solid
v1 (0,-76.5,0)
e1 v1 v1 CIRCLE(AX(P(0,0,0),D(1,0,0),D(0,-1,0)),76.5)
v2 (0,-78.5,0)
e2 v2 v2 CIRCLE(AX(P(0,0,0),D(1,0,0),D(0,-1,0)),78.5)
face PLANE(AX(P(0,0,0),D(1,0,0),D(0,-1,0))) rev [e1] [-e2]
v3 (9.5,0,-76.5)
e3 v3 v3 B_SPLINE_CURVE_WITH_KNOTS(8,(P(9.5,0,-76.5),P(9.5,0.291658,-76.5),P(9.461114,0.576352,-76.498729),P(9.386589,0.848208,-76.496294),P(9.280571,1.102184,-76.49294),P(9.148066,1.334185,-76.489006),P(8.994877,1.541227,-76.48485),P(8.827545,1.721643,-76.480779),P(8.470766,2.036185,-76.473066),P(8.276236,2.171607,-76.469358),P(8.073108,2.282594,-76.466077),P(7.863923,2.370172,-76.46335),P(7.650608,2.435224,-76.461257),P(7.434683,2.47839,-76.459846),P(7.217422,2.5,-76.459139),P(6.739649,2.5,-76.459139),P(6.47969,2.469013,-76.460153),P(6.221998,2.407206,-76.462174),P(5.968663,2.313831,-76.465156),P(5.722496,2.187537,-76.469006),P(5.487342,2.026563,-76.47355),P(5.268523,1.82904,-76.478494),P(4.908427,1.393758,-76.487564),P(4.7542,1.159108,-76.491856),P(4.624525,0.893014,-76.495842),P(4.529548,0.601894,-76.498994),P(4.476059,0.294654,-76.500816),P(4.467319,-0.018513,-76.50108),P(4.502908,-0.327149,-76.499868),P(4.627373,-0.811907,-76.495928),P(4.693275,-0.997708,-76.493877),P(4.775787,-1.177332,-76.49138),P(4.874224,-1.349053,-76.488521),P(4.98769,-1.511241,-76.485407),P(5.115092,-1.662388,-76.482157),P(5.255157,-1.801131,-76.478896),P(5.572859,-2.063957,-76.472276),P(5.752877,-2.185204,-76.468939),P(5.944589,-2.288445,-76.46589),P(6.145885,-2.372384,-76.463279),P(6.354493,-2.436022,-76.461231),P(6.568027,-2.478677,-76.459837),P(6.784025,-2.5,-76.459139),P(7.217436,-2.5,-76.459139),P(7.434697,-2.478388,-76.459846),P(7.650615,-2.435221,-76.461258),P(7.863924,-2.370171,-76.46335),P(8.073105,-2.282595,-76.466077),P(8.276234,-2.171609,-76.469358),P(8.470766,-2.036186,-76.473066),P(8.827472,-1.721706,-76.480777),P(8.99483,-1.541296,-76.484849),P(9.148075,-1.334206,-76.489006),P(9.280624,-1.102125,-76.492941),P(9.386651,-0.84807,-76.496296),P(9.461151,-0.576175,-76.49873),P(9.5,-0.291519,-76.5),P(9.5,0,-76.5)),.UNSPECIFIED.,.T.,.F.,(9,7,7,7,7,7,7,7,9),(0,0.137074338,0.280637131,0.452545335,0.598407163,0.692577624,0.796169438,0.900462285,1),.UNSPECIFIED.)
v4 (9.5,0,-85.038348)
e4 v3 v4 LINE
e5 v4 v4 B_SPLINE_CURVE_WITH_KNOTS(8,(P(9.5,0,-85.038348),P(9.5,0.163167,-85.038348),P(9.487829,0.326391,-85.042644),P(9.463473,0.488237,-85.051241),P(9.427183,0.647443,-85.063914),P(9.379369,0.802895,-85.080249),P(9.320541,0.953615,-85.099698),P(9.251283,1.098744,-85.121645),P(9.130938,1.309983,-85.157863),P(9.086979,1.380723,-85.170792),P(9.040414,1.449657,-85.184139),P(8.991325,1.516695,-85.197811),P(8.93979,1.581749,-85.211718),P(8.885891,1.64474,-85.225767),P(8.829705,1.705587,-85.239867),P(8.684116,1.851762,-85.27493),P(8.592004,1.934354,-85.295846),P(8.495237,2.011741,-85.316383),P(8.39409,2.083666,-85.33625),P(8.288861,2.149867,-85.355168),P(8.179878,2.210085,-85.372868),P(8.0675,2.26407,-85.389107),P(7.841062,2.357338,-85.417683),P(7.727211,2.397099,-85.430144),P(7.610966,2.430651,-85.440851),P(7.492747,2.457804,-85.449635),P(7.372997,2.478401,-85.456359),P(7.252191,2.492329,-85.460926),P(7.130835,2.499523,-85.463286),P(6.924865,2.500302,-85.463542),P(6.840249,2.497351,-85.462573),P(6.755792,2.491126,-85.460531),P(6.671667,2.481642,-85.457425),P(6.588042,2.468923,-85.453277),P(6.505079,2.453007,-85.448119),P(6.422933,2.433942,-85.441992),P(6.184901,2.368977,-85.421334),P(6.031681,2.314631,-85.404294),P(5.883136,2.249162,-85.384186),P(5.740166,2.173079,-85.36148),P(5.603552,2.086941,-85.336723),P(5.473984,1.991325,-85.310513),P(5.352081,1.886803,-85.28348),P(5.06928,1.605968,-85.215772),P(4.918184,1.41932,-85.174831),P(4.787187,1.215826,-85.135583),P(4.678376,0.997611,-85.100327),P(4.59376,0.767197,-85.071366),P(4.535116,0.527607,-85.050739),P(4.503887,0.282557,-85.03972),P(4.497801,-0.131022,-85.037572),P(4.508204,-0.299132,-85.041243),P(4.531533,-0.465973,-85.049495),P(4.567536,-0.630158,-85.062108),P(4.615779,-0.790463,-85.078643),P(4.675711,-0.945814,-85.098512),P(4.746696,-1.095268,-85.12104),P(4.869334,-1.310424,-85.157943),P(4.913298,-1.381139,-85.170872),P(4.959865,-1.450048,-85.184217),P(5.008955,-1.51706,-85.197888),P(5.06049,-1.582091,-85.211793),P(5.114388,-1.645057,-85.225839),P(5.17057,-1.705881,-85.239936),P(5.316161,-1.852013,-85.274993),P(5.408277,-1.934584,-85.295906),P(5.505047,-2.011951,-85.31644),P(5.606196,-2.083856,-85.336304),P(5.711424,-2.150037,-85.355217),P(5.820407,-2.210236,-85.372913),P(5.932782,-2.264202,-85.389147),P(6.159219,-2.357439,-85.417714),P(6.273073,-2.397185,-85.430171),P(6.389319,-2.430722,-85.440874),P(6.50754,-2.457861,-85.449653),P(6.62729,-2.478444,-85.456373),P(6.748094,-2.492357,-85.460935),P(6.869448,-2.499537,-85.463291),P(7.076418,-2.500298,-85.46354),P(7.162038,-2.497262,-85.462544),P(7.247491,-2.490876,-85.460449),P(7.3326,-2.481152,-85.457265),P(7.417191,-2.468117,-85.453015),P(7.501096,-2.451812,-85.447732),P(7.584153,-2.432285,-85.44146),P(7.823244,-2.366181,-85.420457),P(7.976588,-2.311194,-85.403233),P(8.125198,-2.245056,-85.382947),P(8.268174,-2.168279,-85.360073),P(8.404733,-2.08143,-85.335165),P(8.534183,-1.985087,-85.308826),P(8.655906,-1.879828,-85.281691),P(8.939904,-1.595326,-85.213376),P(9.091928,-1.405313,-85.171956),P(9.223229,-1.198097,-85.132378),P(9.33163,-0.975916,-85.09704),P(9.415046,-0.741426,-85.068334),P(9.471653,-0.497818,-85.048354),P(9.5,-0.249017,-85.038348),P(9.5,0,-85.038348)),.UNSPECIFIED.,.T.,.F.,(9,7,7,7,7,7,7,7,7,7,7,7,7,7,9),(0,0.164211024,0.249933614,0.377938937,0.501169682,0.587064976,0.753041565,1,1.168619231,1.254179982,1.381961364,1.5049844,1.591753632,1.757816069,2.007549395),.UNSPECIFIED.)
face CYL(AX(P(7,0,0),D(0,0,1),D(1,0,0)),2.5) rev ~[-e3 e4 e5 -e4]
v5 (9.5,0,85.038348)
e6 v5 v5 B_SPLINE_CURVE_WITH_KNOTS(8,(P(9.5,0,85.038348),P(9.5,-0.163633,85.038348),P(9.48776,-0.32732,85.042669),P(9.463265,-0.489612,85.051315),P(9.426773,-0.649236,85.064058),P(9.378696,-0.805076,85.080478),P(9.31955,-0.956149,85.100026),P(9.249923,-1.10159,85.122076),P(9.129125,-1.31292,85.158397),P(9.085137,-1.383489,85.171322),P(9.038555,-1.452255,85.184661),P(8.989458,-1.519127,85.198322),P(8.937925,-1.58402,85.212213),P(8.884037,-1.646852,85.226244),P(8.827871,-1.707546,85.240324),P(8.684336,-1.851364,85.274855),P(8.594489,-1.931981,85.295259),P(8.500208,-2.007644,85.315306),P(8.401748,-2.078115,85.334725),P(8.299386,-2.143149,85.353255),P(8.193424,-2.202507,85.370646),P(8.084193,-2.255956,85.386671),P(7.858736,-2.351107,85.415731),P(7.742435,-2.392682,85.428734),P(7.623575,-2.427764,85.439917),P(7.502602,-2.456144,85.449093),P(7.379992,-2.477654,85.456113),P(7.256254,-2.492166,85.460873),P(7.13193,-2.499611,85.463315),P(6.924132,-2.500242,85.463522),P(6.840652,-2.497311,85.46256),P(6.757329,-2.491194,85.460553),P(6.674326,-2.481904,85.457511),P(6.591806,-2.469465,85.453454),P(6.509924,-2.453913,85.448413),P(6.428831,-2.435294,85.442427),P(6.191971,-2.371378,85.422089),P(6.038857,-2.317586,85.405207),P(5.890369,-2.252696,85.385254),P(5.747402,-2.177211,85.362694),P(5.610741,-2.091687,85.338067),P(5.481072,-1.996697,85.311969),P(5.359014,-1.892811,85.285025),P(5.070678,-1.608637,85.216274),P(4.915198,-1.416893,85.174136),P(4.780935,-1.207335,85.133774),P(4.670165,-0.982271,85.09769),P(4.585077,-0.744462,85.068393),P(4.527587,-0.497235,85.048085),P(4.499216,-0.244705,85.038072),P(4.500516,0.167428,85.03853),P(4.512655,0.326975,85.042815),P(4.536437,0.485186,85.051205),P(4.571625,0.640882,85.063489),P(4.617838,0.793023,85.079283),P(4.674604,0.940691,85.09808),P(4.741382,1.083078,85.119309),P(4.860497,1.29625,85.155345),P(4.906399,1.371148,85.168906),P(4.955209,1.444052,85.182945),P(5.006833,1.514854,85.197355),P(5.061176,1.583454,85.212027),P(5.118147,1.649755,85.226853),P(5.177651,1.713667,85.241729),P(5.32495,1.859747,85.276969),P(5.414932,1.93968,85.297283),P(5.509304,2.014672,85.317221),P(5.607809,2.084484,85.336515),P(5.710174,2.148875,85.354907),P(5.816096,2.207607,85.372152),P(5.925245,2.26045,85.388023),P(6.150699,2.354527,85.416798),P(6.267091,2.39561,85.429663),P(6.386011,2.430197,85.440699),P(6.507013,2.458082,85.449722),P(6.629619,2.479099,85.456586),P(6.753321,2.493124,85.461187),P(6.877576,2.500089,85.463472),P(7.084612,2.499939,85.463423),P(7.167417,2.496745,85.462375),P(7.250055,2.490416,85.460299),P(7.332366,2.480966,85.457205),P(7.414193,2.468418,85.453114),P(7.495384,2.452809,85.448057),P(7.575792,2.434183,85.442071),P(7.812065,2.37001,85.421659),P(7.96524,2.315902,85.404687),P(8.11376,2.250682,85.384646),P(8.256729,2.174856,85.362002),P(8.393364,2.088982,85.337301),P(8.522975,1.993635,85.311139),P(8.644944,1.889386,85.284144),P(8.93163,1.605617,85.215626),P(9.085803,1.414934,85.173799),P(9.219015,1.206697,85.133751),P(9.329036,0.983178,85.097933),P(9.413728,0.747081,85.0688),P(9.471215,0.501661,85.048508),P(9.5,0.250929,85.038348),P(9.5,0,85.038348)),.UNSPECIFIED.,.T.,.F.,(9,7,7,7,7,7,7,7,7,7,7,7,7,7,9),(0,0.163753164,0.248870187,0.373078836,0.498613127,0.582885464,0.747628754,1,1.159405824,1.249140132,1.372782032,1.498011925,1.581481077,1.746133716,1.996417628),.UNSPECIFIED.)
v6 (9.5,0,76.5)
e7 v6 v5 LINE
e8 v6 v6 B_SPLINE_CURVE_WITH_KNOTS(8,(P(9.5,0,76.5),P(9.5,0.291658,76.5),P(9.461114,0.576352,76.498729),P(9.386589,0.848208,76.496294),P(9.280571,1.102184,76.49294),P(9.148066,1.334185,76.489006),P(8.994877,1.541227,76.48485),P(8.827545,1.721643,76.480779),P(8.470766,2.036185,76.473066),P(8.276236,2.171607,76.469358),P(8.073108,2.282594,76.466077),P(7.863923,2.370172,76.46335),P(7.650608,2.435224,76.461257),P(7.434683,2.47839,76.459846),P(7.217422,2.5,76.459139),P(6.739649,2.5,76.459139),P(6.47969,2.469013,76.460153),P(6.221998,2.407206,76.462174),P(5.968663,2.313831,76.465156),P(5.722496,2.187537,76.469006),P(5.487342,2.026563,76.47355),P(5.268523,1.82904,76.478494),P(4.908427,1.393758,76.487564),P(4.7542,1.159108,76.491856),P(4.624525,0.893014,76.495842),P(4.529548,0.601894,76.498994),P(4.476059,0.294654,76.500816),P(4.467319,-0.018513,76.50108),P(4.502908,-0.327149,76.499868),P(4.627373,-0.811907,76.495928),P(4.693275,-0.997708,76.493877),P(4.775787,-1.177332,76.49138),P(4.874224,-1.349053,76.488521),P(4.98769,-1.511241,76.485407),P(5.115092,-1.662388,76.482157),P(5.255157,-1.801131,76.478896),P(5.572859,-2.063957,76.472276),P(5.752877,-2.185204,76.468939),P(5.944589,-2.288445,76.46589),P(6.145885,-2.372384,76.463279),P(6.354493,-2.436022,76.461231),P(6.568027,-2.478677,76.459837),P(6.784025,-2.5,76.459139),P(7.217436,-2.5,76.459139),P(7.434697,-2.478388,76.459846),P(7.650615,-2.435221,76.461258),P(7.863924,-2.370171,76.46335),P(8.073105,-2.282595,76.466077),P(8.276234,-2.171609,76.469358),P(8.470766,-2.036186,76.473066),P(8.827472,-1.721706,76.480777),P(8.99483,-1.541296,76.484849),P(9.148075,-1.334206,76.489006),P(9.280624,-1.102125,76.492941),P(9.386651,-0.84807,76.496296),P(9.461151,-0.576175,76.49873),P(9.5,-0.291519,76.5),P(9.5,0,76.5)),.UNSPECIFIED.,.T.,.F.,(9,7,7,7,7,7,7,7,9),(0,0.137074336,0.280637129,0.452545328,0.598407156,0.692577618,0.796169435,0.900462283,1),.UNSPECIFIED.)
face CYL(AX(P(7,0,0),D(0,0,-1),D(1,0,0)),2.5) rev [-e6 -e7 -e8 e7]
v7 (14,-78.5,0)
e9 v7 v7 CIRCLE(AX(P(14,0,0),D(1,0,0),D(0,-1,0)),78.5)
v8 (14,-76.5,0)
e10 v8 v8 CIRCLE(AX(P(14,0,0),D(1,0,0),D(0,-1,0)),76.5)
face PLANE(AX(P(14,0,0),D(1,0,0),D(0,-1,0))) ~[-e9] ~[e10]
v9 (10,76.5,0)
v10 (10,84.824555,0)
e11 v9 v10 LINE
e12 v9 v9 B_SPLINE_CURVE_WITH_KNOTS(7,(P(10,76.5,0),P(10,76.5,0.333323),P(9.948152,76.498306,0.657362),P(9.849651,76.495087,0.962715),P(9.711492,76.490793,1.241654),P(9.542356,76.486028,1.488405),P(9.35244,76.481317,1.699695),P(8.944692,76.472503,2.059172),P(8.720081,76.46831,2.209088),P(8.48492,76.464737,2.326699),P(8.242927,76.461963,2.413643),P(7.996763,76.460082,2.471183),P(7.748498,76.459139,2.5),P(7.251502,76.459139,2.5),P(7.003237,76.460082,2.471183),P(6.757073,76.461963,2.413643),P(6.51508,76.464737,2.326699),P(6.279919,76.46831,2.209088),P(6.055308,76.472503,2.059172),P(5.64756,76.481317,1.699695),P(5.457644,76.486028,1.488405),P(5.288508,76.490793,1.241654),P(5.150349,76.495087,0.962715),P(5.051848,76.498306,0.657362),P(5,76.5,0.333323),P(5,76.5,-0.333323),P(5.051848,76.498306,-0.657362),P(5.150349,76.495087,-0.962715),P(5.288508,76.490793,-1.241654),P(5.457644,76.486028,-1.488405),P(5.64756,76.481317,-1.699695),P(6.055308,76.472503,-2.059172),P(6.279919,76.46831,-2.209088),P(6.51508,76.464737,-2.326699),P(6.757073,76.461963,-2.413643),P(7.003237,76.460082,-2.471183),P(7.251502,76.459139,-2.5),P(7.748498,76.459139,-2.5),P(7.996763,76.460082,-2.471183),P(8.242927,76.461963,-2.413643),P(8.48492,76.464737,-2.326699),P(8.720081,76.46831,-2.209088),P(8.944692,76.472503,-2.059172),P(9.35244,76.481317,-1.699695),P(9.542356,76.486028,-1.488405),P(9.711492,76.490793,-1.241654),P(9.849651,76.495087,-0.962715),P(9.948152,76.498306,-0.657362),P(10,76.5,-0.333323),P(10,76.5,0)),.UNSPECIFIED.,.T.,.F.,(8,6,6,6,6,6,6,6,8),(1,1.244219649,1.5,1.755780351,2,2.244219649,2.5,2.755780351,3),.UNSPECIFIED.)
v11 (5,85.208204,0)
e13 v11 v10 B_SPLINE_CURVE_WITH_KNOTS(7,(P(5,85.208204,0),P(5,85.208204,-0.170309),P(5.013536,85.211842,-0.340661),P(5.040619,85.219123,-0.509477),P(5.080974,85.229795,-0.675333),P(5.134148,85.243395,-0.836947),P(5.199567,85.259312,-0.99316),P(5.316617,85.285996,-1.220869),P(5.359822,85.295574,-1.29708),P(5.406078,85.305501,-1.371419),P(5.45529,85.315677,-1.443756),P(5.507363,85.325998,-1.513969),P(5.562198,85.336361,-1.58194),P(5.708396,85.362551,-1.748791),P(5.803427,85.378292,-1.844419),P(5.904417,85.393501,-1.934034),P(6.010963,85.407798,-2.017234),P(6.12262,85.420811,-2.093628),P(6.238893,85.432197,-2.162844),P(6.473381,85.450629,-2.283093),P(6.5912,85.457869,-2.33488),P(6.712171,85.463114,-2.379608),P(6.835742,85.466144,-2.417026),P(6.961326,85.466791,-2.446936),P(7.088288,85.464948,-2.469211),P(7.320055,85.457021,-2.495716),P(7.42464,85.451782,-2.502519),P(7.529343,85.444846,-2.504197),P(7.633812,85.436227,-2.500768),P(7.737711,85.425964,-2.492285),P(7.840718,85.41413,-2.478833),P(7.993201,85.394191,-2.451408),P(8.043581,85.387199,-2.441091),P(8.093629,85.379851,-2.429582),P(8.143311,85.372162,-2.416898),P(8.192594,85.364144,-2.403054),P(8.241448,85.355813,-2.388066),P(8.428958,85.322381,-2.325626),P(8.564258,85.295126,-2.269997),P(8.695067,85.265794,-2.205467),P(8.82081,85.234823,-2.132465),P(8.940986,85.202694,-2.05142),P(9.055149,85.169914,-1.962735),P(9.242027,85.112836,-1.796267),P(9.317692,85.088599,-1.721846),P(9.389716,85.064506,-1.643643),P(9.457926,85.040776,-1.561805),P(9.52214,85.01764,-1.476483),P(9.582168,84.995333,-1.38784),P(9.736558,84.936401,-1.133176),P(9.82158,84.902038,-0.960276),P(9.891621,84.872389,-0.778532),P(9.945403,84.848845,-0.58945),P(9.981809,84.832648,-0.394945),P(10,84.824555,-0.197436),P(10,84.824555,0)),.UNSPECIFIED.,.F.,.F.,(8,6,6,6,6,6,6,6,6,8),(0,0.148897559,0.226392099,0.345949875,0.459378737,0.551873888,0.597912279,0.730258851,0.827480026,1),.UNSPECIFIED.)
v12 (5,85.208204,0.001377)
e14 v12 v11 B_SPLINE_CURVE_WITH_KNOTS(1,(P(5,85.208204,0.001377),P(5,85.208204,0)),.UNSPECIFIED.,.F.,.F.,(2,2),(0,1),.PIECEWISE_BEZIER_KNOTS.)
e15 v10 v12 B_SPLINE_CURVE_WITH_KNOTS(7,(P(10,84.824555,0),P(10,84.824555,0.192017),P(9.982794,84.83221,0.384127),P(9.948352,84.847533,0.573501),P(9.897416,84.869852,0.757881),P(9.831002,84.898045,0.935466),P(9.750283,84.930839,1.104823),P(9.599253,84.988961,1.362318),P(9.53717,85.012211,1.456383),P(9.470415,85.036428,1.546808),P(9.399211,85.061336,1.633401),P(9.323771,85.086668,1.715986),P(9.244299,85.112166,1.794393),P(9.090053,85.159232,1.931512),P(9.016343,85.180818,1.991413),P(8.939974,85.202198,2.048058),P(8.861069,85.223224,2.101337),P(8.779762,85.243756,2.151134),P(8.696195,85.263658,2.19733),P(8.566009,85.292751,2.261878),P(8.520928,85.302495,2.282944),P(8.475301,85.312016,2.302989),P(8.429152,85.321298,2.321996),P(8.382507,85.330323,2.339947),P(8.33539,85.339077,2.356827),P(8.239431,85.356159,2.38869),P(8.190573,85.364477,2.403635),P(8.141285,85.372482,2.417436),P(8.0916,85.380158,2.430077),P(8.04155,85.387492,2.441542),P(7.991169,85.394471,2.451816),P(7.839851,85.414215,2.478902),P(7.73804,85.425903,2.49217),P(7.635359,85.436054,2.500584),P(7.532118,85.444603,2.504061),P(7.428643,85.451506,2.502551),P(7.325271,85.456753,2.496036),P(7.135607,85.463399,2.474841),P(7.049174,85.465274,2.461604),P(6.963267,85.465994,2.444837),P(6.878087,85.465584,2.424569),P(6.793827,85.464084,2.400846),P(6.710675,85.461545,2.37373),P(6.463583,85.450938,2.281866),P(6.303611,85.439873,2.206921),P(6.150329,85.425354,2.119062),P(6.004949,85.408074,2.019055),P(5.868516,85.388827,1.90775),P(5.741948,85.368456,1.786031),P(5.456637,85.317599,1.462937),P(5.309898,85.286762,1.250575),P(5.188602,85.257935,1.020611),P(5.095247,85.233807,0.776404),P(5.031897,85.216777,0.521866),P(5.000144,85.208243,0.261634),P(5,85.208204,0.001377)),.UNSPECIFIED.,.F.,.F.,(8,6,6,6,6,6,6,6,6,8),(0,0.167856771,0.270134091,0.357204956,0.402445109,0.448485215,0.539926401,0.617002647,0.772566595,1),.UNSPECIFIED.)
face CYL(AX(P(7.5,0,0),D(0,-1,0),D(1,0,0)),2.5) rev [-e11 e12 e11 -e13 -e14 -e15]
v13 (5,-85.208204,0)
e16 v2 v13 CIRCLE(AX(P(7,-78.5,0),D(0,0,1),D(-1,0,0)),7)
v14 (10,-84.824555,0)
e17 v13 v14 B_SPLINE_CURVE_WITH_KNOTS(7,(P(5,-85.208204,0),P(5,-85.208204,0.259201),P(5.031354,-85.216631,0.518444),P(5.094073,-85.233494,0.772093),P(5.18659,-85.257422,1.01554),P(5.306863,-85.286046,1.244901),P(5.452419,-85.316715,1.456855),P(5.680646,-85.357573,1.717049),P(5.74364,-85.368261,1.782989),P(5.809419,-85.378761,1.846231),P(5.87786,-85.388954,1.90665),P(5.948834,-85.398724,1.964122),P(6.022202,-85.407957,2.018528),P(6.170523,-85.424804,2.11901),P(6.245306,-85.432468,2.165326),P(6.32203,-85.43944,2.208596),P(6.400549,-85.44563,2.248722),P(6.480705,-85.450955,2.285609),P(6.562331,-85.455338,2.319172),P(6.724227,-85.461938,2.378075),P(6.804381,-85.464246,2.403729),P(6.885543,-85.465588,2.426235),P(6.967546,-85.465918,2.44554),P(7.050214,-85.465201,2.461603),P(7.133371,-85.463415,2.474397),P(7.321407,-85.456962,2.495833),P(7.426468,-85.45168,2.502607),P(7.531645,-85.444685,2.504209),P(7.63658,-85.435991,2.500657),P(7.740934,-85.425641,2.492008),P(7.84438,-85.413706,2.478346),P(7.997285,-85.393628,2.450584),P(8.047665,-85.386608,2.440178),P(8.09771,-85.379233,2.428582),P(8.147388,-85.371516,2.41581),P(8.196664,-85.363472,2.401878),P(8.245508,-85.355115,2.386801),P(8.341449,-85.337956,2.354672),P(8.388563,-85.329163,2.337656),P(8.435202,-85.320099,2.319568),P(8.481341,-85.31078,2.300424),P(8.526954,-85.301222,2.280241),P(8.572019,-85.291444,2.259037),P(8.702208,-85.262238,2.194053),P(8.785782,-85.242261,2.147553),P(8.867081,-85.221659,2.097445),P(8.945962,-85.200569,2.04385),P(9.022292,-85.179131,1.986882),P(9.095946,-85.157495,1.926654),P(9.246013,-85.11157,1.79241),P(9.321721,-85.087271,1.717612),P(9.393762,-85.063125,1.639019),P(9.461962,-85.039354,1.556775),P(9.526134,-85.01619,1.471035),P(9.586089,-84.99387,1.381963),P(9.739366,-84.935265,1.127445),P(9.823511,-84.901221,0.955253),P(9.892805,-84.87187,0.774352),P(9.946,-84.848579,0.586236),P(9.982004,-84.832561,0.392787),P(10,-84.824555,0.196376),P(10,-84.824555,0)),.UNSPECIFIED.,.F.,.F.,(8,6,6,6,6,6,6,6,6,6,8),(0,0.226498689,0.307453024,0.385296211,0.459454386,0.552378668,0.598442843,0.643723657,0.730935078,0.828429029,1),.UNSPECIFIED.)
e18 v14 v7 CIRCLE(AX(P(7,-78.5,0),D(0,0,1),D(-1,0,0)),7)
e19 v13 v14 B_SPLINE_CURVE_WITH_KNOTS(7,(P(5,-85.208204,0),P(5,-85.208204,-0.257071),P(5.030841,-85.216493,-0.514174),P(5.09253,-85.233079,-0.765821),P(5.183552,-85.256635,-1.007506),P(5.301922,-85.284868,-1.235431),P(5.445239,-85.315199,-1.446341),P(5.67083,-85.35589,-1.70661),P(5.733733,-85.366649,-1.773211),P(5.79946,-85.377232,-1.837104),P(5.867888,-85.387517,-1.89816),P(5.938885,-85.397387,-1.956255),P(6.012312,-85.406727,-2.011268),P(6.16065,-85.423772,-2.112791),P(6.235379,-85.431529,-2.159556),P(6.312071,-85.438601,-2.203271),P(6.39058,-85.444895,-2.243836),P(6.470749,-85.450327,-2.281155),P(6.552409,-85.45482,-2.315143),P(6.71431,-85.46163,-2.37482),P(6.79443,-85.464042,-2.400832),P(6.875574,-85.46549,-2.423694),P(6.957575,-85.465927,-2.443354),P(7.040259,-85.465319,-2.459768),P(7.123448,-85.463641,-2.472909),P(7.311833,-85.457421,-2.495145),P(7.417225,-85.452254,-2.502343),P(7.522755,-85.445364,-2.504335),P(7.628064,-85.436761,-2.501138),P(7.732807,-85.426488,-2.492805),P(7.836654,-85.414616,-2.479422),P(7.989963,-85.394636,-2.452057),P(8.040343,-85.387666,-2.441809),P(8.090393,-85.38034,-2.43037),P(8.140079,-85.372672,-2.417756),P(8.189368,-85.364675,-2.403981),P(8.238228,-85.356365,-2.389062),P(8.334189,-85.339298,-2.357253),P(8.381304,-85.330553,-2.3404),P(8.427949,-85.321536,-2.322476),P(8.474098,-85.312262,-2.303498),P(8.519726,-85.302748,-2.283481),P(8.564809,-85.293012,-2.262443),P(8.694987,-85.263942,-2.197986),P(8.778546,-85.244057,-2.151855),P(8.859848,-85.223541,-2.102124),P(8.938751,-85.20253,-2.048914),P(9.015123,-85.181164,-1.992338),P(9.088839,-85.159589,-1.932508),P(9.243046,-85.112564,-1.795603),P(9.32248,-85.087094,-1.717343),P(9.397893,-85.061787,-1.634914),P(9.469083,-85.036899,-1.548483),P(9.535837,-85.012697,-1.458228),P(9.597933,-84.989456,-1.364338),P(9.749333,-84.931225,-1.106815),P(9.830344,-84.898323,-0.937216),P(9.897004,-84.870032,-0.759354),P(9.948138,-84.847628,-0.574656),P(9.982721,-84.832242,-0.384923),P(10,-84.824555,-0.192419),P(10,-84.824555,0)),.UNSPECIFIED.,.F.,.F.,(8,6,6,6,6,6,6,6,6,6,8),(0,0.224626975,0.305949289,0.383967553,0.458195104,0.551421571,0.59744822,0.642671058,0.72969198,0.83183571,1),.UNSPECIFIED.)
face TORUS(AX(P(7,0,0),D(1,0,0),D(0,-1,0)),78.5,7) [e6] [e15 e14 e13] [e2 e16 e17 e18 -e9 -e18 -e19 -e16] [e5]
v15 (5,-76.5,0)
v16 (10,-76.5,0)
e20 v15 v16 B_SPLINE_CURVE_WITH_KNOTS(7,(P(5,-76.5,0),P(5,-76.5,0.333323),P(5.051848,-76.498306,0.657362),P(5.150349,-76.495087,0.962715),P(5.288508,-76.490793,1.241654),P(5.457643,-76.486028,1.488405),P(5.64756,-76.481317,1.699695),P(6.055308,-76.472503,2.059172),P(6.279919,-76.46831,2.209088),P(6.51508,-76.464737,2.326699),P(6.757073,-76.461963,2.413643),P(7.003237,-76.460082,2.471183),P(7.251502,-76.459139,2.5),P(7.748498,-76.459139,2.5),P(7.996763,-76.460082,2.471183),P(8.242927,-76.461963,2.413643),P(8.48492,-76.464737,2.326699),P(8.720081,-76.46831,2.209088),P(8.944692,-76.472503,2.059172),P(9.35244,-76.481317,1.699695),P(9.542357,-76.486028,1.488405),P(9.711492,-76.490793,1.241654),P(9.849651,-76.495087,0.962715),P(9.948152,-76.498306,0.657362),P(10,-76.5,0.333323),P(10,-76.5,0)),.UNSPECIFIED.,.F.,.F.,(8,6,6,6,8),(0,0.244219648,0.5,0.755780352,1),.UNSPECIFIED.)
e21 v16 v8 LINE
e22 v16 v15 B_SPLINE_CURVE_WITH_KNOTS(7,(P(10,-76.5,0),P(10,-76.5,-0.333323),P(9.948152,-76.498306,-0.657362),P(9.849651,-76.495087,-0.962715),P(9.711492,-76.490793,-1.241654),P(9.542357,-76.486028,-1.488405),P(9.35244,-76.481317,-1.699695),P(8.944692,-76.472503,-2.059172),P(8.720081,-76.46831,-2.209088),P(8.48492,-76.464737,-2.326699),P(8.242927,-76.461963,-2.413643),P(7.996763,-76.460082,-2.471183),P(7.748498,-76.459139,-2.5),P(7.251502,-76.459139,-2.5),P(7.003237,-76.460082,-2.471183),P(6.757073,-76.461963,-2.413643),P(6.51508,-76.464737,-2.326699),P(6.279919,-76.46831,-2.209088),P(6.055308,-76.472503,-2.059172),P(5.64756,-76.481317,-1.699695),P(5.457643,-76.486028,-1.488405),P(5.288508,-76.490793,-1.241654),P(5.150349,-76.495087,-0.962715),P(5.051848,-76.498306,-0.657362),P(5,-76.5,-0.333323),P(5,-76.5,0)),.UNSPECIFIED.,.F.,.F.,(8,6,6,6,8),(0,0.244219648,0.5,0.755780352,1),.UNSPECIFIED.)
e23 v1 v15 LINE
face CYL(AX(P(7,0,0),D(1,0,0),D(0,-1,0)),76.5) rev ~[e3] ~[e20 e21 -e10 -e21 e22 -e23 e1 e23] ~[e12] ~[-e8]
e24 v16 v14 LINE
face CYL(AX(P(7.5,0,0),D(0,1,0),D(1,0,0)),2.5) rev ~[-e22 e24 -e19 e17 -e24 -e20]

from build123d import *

# Parameters (mm, degrees)
SKETCH1_W                      = 14
SKETCH1_H                      = 2
CUT_EXTRUDE1_REACH             = 123.723
SKETCH1_3_R                    = 2.5
CUT_EXTRUDE1_DIRECTION_2_REACH = 123.723
CUT_EXTRUDE2_REACH             = 123.697
CUT_EXTRUDE2_DIRECTION_2_REACH = 123.697


with BuildPart() as part:
    # Sketch1 → Revolve1 (revolve)
    with BuildSketch(Plane.XY, mode=Mode.PRIVATE) as revolve1_sk:
        with Locations((7, 77.5)):
            Rectangle(SKETCH1_W, SKETCH1_H)
        with BuildLine():
            ThreePointArc((0, 78.5), (7, 85.5), (14, 78.5))
            Line((14, 78.5), (0, 78.5))
        make_face()
    revolve(revolve1_sk.sketch.rotate(Axis((0, 0, 0), (1, 0, 0)), 180), axis=Axis((0, 0, 0), (1, 0, 0)))

    # Sketch1<3> → Cut-Extrude1 (cut, up to next)
    with BuildSketch(Plane.XY, mode=Mode.PRIVATE) as cut_extrude1_sk1:
        with Locations((7, 0)):
            Circle(SKETCH1_3_R)
    cut_extrude1_tool1 = extrude(cut_extrude1_sk1.sketch, amount=-CUT_EXTRUDE1_REACH, mode=Mode.PRIVATE) & part.part
    add(cut_extrude1_tool1.solids().sort_by_distance((7, 0, 0))[0], mode=Mode.SUBTRACT)

    # Sketch1<3> → Cut-Extrude1 direction 2 (cut, up to next)
    with BuildSketch(Plane.XY, mode=Mode.PRIVATE) as cut_extrude1_direction_2_sk1:
        with Locations((7, 0)):
            Circle(SKETCH1_3_R)
    cut_extrude1_direction_2_tool1 = extrude(cut_extrude1_direction_2_sk1.sketch, amount=CUT_EXTRUDE1_DIRECTION_2_REACH, mode=Mode.PRIVATE) & part.part
    add(cut_extrude1_direction_2_tool1.solids().sort_by_distance((7, 0, 0))[0], mode=Mode.SUBTRACT)

    # Sketch2 → Cut-Extrude2 (cut, up to next)
    with BuildSketch(Plane(origin=(0, 0, 0), x_dir=(1, 0, 0), z_dir=(0, 1, 0)), mode=Mode.PRIVATE) as cut_extrude2_sk1:
        with BuildLine():
            ThreePointArc((10, 0), (7.5, 2.5), (5, 0))
            Line((5, 0), (10, 0))
        make_face()
    cut_extrude2_tool1 = extrude(cut_extrude2_sk1.sketch, amount=-CUT_EXTRUDE2_REACH, mode=Mode.PRIVATE) & part.part
    # Sketch2 → Cut-Extrude2 (cut, up to next)
    with BuildSketch(Plane(origin=(0, 0, 0), x_dir=(1, 0, 0), z_dir=(0, 1, 0)), mode=Mode.PRIVATE) as cut_extrude2_sk2:
        with BuildLine():
            Line((10, 0), (5, 0))
            ThreePointArc((5, 0), (7.5, -2.5), (10, 0))
        make_face()
    cut_extrude2_tool2 = extrude(cut_extrude2_sk2.sketch, amount=-CUT_EXTRUDE2_REACH, mode=Mode.PRIVATE) & part.part
    # Sketch2 → Cut-Extrude2 (cut, up to next)
    with BuildSketch(Plane(origin=(0, 0, 0), x_dir=(1, 0, 0), z_dir=(0, 1, 0)), mode=Mode.PRIVATE) as cut_extrude2_sk3:
        with BuildLine():
            ThreePointArc((10, 0), (7.5, 2.5), (5, 0))
            Line((5, 0), (10, 0))
        make_face()
    cut_extrude2_tool3 = extrude(cut_extrude2_sk3.sketch, amount=-CUT_EXTRUDE2_REACH, mode=Mode.PRIVATE) & part.part
    # Sketch2 → Cut-Extrude2 (cut, up to next)
    with BuildSketch(Plane(origin=(0, 0, 0), x_dir=(1, 0, 0), z_dir=(0, 1, 0)), mode=Mode.PRIVATE) as cut_extrude2_sk4:
        with BuildLine():
            Line((10, 0), (5, 0))
            ThreePointArc((5, 0), (7.5, -2.5), (10, 0))
        make_face()
    cut_extrude2_tool4 = extrude(cut_extrude2_sk4.sketch, amount=-CUT_EXTRUDE2_REACH, mode=Mode.PRIVATE) & part.part
    add(cut_extrude2_tool1.solids().sort_by_distance((7.5, 0, -1.061033))[0], mode=Mode.SUBTRACT)
    add(cut_extrude2_tool2.solids().sort_by_distance((7.5, 0, 1.061033))[0], mode=Mode.SUBTRACT)
    add(cut_extrude2_tool3.solids().sort_by_distance((7.5, 0, -1.061033))[0], mode=Mode.SUBTRACT)
    add(cut_extrude2_tool4.solids().sort_by_distance((7.5, 0, 1.061033))[0], mode=Mode.SUBTRACT)

    # Sketch2 → Cut-Extrude2 direction 2 (cut, up to next)
    with BuildSketch(Plane(origin=(0, 0, 0), x_dir=(1, 0, 0), z_dir=(0, 1, 0)), mode=Mode.PRIVATE) as cut_extrude2_direction_2_sk1:
        with BuildLine():
            ThreePointArc((10, 0), (7.5, 2.5), (5, 0))
            Line((5, 0), (10, 0))
        make_face()
    cut_extrude2_direction_2_tool1 = extrude(cut_extrude2_direction_2_sk1.sketch, amount=CUT_EXTRUDE2_DIRECTION_2_REACH, mode=Mode.PRIVATE) & part.part
    # Sketch2 → Cut-Extrude2 direction 2 (cut, up to next)
    with BuildSketch(Plane(origin=(0, 0, 0), x_dir=(1, 0, 0), z_dir=(0, 1, 0)), mode=Mode.PRIVATE) as cut_extrude2_direction_2_sk2:
        with BuildLine():
            Line((10, 0), (5, 0))
            ThreePointArc((5, 0), (7.5, -2.5), (10, 0))
        make_face()
    cut_extrude2_direction_2_tool2 = extrude(cut_extrude2_direction_2_sk2.sketch, amount=CUT_EXTRUDE2_DIRECTION_2_REACH, mode=Mode.PRIVATE) & part.part
    # Sketch2 → Cut-Extrude2 direction 2 (cut, up to next)
    with BuildSketch(Plane(origin=(0, 0, 0), x_dir=(1, 0, 0), z_dir=(0, 1, 0)), mode=Mode.PRIVATE) as cut_extrude2_direction_2_sk3:
        with BuildLine():
            ThreePointArc((10, 0), (7.5, 2.5), (5, 0))
            Line((5, 0), (10, 0))
        make_face()
    cut_extrude2_direction_2_tool3 = extrude(cut_extrude2_direction_2_sk3.sketch, amount=CUT_EXTRUDE2_DIRECTION_2_REACH, mode=Mode.PRIVATE) & part.part
    # Sketch2 → Cut-Extrude2 direction 2 (cut, up to next)
    with BuildSketch(Plane(origin=(0, 0, 0), x_dir=(1, 0, 0), z_dir=(0, 1, 0)), mode=Mode.PRIVATE) as cut_extrude2_direction_2_sk4:
        with BuildLine():
            Line((10, 0), (5, 0))
            ThreePointArc((5, 0), (7.5, -2.5), (10, 0))
        make_face()
    cut_extrude2_direction_2_tool4 = extrude(cut_extrude2_direction_2_sk4.sketch, amount=CUT_EXTRUDE2_DIRECTION_2_REACH, mode=Mode.PRIVATE) & part.part
    add(cut_extrude2_direction_2_tool1.solids().sort_by_distance((7.5, 0, -1.061033))[0], mode=Mode.SUBTRACT)
    add(cut_extrude2_direction_2_tool2.solids().sort_by_distance((7.5, 0, 1.061033))[0], mode=Mode.SUBTRACT)
    add(cut_extrude2_direction_2_tool3.solids().sort_by_distance((7.5, 0, -1.061033))[0], mode=Mode.SUBTRACT)
    add(cut_extrude2_direction_2_tool4.solids().sort_by_distance((7.5, 0, 1.061033))[0], mode=Mode.SUBTRACT)


solid = part.part
